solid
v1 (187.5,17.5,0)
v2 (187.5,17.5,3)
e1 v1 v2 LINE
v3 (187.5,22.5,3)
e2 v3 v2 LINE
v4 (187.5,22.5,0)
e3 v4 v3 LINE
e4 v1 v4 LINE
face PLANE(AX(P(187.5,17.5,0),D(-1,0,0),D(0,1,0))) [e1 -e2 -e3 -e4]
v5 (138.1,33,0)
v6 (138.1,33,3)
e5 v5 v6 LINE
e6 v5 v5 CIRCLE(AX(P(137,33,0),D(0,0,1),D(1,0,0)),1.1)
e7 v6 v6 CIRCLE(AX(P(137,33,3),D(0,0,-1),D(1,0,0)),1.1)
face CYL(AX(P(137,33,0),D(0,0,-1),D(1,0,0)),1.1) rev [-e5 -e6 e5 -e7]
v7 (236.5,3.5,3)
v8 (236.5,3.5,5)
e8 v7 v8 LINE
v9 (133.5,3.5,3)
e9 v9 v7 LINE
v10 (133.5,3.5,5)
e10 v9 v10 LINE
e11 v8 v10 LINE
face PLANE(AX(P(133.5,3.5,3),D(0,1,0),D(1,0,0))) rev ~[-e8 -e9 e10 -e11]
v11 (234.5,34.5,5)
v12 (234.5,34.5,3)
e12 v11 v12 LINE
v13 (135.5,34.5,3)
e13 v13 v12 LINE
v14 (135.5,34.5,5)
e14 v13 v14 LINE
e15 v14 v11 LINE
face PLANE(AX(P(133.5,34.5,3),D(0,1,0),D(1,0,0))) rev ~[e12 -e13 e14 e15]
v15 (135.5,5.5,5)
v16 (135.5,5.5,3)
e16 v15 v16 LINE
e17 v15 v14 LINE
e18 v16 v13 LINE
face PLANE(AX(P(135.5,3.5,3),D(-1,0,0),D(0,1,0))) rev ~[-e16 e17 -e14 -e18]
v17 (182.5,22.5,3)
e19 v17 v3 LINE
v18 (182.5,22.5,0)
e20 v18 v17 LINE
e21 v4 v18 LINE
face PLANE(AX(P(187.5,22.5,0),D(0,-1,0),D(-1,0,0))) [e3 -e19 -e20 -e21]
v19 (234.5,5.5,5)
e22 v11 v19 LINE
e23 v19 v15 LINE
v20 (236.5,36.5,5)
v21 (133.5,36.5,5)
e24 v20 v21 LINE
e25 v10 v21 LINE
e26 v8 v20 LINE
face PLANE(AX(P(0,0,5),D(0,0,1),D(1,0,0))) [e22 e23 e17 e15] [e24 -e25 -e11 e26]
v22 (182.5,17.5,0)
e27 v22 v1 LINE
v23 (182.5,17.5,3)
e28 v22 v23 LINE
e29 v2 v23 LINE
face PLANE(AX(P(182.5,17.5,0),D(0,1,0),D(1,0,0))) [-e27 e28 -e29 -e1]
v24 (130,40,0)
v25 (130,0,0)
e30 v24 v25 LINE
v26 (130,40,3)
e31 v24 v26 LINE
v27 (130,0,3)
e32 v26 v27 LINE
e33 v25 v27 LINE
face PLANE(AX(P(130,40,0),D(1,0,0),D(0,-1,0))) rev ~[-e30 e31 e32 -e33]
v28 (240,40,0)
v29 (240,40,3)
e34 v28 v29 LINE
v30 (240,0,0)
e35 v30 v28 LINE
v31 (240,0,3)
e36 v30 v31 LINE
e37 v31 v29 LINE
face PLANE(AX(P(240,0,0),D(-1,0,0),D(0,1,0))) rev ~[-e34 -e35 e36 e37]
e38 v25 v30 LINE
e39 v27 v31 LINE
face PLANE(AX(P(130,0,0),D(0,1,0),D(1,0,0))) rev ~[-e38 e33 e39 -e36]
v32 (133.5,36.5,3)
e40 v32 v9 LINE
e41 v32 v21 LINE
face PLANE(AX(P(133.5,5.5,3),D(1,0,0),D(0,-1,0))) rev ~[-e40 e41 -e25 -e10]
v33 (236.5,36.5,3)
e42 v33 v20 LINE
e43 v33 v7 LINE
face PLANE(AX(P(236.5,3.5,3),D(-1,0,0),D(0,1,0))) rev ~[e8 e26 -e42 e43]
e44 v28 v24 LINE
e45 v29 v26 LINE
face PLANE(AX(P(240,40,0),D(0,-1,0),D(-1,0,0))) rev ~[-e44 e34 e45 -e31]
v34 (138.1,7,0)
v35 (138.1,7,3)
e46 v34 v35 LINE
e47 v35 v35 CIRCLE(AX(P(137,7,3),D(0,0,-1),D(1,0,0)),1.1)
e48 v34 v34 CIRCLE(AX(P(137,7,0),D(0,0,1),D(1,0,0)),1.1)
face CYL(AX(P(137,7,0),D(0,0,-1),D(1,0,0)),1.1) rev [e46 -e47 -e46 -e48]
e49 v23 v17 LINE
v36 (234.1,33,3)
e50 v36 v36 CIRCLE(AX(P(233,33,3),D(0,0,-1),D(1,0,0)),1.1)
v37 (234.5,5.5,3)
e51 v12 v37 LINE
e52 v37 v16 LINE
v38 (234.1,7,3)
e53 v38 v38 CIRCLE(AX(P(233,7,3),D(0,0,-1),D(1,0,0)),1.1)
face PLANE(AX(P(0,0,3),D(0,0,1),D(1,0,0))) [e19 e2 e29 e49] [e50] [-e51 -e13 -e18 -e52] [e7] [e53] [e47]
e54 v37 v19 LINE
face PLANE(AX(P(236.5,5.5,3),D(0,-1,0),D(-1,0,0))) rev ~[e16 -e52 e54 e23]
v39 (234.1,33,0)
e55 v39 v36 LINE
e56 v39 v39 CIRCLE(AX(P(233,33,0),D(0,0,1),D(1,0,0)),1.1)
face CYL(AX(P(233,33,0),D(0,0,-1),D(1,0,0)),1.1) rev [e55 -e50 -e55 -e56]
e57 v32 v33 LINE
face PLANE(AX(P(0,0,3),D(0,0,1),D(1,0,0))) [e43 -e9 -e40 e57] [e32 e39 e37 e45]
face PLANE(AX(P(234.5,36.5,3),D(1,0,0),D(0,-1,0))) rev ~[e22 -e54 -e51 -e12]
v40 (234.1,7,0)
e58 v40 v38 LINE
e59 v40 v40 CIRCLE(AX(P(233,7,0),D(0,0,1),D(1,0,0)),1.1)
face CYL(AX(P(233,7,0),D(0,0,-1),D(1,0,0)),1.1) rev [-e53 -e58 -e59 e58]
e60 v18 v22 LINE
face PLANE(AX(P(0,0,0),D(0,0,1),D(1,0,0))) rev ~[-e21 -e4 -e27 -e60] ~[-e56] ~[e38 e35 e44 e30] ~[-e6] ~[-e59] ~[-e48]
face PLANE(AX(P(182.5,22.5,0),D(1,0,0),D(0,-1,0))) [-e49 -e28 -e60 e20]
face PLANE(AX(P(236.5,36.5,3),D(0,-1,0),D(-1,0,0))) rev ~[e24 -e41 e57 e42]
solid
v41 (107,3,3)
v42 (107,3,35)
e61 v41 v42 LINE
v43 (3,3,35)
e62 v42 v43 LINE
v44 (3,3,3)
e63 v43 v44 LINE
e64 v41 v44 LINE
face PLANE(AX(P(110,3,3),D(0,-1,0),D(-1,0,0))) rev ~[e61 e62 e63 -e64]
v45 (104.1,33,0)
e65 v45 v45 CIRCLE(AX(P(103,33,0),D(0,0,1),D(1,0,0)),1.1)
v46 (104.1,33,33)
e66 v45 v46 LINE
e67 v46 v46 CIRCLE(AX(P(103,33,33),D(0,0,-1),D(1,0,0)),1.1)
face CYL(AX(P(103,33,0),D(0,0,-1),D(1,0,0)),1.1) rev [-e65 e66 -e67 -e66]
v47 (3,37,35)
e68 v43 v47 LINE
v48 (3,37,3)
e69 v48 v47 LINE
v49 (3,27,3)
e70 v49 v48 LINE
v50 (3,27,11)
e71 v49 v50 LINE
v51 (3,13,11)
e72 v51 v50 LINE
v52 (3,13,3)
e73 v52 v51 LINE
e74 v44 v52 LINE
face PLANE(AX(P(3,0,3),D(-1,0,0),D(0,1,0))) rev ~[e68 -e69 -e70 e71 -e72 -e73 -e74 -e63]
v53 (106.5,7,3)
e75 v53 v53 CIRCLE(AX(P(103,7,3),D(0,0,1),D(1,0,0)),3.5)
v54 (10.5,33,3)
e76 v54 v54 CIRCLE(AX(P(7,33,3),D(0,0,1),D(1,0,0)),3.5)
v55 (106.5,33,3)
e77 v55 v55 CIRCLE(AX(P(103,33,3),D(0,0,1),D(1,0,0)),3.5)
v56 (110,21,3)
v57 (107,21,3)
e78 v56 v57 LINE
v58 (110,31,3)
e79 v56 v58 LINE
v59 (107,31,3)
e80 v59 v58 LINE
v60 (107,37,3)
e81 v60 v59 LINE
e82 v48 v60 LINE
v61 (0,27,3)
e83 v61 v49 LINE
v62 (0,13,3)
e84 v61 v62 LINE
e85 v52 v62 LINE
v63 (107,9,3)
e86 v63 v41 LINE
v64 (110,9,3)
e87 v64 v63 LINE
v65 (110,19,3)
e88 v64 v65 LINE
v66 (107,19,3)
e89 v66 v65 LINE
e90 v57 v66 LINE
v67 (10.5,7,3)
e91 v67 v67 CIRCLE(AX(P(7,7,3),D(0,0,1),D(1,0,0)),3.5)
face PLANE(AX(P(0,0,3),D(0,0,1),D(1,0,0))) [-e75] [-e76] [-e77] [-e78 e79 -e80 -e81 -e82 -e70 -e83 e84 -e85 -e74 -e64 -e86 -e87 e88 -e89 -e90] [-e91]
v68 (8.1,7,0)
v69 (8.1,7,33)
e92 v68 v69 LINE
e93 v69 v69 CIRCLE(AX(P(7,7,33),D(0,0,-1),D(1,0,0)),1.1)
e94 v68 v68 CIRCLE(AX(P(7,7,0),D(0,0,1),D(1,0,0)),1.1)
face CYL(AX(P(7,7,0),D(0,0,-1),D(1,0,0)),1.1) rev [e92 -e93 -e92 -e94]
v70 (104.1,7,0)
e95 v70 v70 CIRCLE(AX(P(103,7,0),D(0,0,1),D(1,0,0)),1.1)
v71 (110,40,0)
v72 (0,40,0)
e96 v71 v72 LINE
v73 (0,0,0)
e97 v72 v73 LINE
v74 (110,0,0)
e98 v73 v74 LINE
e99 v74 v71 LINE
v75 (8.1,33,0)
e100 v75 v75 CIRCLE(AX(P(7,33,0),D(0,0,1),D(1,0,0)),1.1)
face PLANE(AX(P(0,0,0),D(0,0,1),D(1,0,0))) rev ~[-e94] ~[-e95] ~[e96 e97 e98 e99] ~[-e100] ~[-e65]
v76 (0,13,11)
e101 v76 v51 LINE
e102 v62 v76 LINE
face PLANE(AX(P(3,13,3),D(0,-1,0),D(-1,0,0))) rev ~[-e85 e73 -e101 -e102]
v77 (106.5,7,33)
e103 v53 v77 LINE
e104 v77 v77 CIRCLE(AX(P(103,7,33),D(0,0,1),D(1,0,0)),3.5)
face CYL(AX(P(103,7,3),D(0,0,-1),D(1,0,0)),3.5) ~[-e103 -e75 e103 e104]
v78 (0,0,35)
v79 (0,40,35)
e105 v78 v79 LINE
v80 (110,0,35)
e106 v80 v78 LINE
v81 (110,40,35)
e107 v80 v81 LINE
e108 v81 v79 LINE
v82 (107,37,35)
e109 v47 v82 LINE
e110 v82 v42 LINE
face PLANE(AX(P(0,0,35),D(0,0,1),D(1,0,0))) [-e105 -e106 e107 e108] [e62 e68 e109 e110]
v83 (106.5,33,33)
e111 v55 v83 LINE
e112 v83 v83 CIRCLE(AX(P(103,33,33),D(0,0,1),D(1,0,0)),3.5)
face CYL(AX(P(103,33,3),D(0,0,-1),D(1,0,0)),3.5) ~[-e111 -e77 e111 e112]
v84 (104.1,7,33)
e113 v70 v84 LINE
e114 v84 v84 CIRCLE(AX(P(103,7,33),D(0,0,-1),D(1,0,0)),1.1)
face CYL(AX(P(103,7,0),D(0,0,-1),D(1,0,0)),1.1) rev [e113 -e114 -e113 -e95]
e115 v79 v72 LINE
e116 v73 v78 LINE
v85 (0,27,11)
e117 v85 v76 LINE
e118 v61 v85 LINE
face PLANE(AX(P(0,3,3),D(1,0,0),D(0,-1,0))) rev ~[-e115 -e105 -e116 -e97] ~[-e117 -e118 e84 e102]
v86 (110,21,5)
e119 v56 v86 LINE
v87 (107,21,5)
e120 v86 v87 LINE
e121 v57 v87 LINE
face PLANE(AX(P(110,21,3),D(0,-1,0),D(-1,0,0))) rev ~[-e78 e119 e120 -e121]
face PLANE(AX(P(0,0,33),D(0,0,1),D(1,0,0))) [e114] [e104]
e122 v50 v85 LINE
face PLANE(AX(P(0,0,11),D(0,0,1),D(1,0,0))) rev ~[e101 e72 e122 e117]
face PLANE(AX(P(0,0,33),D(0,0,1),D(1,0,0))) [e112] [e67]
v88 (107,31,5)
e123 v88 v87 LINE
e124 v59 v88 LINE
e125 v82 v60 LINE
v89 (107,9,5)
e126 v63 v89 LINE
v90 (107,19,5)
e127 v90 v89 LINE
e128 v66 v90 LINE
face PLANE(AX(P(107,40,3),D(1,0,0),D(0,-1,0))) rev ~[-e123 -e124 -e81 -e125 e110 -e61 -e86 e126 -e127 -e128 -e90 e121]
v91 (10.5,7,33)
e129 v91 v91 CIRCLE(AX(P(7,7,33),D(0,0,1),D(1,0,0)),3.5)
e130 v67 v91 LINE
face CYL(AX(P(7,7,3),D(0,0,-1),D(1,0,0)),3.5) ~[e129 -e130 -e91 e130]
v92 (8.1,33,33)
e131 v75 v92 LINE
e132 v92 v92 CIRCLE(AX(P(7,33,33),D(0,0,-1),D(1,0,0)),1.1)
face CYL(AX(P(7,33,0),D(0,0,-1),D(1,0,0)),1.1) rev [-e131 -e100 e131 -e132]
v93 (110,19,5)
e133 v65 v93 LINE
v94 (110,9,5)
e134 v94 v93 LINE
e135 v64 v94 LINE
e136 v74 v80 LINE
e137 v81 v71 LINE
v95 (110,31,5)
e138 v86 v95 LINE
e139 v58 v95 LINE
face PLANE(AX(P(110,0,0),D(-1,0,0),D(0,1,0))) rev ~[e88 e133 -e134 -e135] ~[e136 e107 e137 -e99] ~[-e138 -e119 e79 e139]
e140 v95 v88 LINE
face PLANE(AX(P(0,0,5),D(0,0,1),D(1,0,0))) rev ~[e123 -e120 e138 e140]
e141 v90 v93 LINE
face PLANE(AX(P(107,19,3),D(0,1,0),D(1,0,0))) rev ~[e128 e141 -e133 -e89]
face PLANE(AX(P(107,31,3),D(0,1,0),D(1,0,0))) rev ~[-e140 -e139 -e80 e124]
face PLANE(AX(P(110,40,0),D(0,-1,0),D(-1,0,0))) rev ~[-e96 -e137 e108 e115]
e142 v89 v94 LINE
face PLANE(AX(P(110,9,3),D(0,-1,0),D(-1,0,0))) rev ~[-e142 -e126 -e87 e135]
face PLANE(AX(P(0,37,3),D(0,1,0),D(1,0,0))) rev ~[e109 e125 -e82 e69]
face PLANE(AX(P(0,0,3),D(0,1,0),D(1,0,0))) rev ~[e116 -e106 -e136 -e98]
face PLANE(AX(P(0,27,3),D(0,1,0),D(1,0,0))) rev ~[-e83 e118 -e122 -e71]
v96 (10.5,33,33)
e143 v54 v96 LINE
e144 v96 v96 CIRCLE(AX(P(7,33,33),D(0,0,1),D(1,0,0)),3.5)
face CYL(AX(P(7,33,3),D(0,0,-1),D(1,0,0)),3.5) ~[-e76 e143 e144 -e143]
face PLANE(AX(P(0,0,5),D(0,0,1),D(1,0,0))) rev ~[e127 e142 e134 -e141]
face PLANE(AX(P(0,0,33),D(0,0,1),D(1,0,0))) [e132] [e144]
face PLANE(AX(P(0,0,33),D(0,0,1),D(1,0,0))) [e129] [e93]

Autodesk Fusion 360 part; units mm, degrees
sketch "Boceto1" plane through (0, 0, 0) normal (0, 0, 1) x (1, 0, 0)
sketch "Boceto2" plane through (0, 0, 0) normal (0, 0, 1) x (1, 0, 0)
sketch "Boceto3" plane through (0, 0, 0) normal (0, 0, 1) x (1, 0, 0)
  line L0 (0, 0) -> (110, 0)
  line L1 (110, 0) -> (110, 40)
  line L2 (110, 40) -> (0, 40)
  line L3 (0, 40) -> (0, 0)
sketch "Boceto4" plane through (0, 0, 0) normal (0, 0, 1) x (1, 0, 0)
  line L0 (0, 0) -> (110, 0)
  line L1 (110, 0) -> (110, 3)
  line L2 (110, 3) -> (0, 3)
  line L3 (0, 3) -> (0, 0)
sketch "Boceto5" plane through (0, 0, 0) normal (0, 0, 1) x (1, 0, 0)
  line L0 (0, 37) -> (110, 37)
  line L1 (110, 37) -> (110, 40)
  line L2 (110, 40) -> (0, 40)
  line L3 (0, 40) -> (0, 37)
sketch "Boceto6" plane through (0, 0, 0) normal (0, 0, 1) x (1, 0, 0)
  line L0 (0, 0) -> (3, 0)
  line L1 (3, 0) -> (3, 13)
  line L2 (3, 13) -> (0, 13)
  line L3 (0, 13) -> (0, 0)
sketch "Boceto7" plane through (0, 0, 0) normal (0, 0, 1) x (1, 0, 0)
  line L0 (0, 27) -> (3, 27)
  line L1 (3, 27) -> (3, 40)
  line L2 (3, 40) -> (0, 40)
  line L3 (0, 40) -> (0, 27)
sketch "Boceto8" plane through (0, 0, 0) normal (0, 0, 1) x (1, 0, 0)
  line L0 (0, 13) -> (3, 13)
  line L1 (3, 13) -> (3, 27)
  line L2 (3, 27) -> (0, 27)
  line L3 (0, 27) -> (0, 13)
sketch "Boceto9" plane through (0, 0, 0) normal (0, 0, 1) x (1, 0, 0)
  line L0 (107, 0) -> (110, 0)
  line L1 (110, 0) -> (110, 9)
  line L2 (110, 9) -> (107, 9)
  line L3 (107, 9) -> (107, 0)
sketch "Boceto10" plane through (0, 0, 0) normal (0, 0, 1) x (1, 0, 0)
  line L0 (107, 19) -> (110, 19)
  line L1 (110, 19) -> (110, 21)
  line L2 (110, 21) -> (107, 21)
  line L3 (107, 21) -> (107, 19)
sketch "Boceto11" plane through (0, 0, 0) normal (0, 0, 1) x (1, 0, 0)
  line L0 (107, 31) -> (110, 31)
  line L1 (110, 31) -> (110, 40)
  line L2 (110, 40) -> (107, 40)
  line L3 (107, 40) -> (107, 31)
sketch "Boceto12" plane through (0, 0, 0) normal (0, 0, 1) x (1, 0, 0)
  line L0 (107, 9) -> (110, 9)
  line L1 (110, 9) -> (110, 31)
  line L2 (110, 31) -> (107, 31)
  line L3 (107, 31) -> (107, 9)
sketch "Boceto13" plane through (0, 0, 0) normal (0, 0, 1) x (1, 0, 0)
  circle A0 centre (7, 7) radius 3.5
sketch "Boceto14" plane through (0, 0, 0) normal (0, 0, 1) x (1, 0, 0)
  circle A0 centre (7, 7) radius 1.1
sketch "Boceto15" plane through (0, 0, 0) normal (0, 0, 1) x (1, 0, 0)
  circle A0 centre (103, 7) radius 3.5
sketch "Boceto16" plane through (0, 0, 0) normal (0, 0, 1) x (1, 0, 0)
  circle A0 centre (103, 7) radius 1.1
sketch "Boceto17" plane through (0, 0, 0) normal (0, 0, 1) x (1, 0, 0)
  circle A0 centre (7, 33) radius 3.5
sketch "Boceto18" plane through (0, 0, 0) normal (0, 0, 1) x (1, 0, 0)
  circle A0 centre (7, 33) radius 1.1
sketch "Boceto19" plane through (0, 0, 0) normal (0, 0, 1) x (1, 0, 0)
  circle A0 centre (103, 33) radius 3.5
sketch "Boceto20" plane through (0, 0, 0) normal (0, 0, 1) x (1, 0, 0)
  circle A0 centre (103, 33) radius 1.1
sketch "Boceto21" plane through (0, 0, 0) normal (0, 0, 1) x (1, 0, 0)
  circle A0 centre (35, 12) radius 2.5
sketch "Boceto22" plane through (0, 0, 0) normal (0, 0, 1) x (1, 0, 0)
  circle A0 centre (35, 12) radius 1.1
sketch "Boceto23" plane through (0, 0, 0) normal (0, 0, 1) x (1, 0, 0)
  circle A0 centre (75, 12) radius 2.5
sketch "Boceto24" plane through (0, 0, 0) normal (0, 0, 1) x (1, 0, 0)
  circle A0 centre (75, 12) radius 1.1
sketch "Boceto25" plane through (0, 0, 0) normal (0, 0, 1) x (1, 0, 0)
  circle A0 centre (35, 28) radius 2.5
sketch "Boceto26" plane through (0, 0, 0) normal (0, 0, 1) x (1, 0, 0)
  circle A0 centre (35, 28) radius 1.1
sketch "Boceto27" plane through (0, 0, 0) normal (0, 0, 1) x (1, 0, 0)
  circle A0 centre (75, 28) radius 2.5
sketch "Boceto28" plane through (0, 0, 0) normal (0, 0, 1) x (1, 0, 0)
  circle A0 centre (75, 28) radius 1.1
sketch "Boceto29" plane through (0, 0, 0) normal (0, 0, 1) x (1, 0, 0)
  circle A0 centre (95, 20) radius 3
sketch "Boceto30" plane through (0, 0, 0) normal (0, 0, 1) x (1, 0, 0)
  circle A0 centre (95, 20) radius 1.6
sketch "Boceto31" plane through (0, 0, 0) normal (0, 0, 1) x (1, 0, 0)
  circle A0 centre (53, 20) radius 2.5
sketch "Boceto32" plane through (0, 0, 0) normal (0, 0, 1) x (1, 0, 0)
  circle A0 centre (53, 20) radius 1.1
sketch "Boceto33" plane through (0, 0, 0) normal (0, 0, 1) x (1, 0, 0)
  circle A0 centre (57, 20) radius 2.5
sketch "Boceto34" plane through (0, 0, 0) normal (0, 0, 1) x (1, 0, 0)
  circle A0 centre (57, 20) radius 1.1
sketch "Boceto35" plane through (0, 0, 0) normal (0, 0, 1) x (1, 0, 0)
  line L0 (130, 0) -> (240, 0)
  line L1 (240, 0) -> (240, 40)
  line L2 (240, 40) -> (130, 40)
  line L3 (130, 40) -> (130, 0)
sketch "Boceto36" plane through (0, 0, 0) normal (0, 0, 1) x (1, 0, 0)
  line L0 (133.5, 3.5) -> (236.5, 3.5)
  line L1 (236.5, 3.5) -> (236.5, 5.5)
  line L2 (236.5, 5.5) -> (133.5, 5.5)
  line L3 (133.5, 5.5) -> (133.5, 3.5)
sketch "Boceto37" plane through (0, 0, 0) normal (0, 0, 1) x (1, 0, 0)
  line L0 (133.5, 34.5) -> (236.5, 34.5)
  line L1 (236.5, 34.5) -> (236.5, 36.5)
  line L2 (236.5, 36.5) -> (133.5, 36.5)
  line L3 (133.5, 36.5) -> (133.5, 34.5)
sketch "Boceto38" plane through (0, 0, 0) normal (0, 0, 1) x (1, 0, 0)
  line L0 (133.5, 3.5) -> (135.5, 3.5)
  line L1 (135.5, 3.5) -> (135.5, 36.5)
  line L2 (135.5, 36.5) -> (133.5, 36.5)
  line L3 (133.5, 36.5) -> (133.5, 3.5)
sketch "Boceto39" plane through (0, 0, 0) normal (0, 0, 1) x (1, 0, 0)
  line L0 (234.5, 3.5) -> (236.5, 3.5)
  line L1 (236.5, 3.5) -> (236.5, 36.5)
  line L2 (236.5, 36.5) -> (234.5, 36.5)
  line L3 (234.5, 36.5) -> (234.5, 3.5)
sketch "Boceto40" plane through (0, 0, 0) normal (0, 0, 1) x (1, 0, 0)
  line L0 (182.5, 17.5) -> (187.5, 17.5)
  line L1 (187.5, 17.5) -> (187.5, 22.5)
  line L2 (187.5, 22.5) -> (182.5, 22.5)
  line L3 (182.5, 22.5) -> (182.5, 17.5)
sketch "Boceto41" plane through (0, 0, 0) normal (0, 0, 1) x (1, 0, 0)
  circle A0 centre (137, 7) radius 1.1
sketch "Boceto42" plane through (0, 0, 0) normal (0, 0, 1) x (1, 0, 0)
  circle A0 centre (233, 7) radius 1.1
sketch "Boceto43" plane through (0, 0, 0) normal (0, 0, 1) x (1, 0, 0)
  circle A0 centre (137, 33) radius 1.1
sketch "Boceto44" plane through (0, 0, 0) normal (0, 0, 1) x (1, 0, 0)
  circle A0 centre (233, 33) radius 1.1
sketch "Boceto45" plane through (0, 0, 0) normal (0, 0, 1) x (1, 0, 0)
  line L0 (0, 0) -> (110, 0)
  line L1 (110, 0) -> (110, 40)
  line L2 (110, 40) -> (0, 40)
  line L3 (0, 40) -> (0, 0)
sketch "Boceto46" plane through (0, 0, 0) normal (0, 0, 1) x (1, 0, 0)
  line L0 (0, 0) -> (110, 0)
  line L1 (110, 0) -> (110, 3)
  line L2 (110, 3) -> (0, 3)
  line L3 (0, 3) -> (0, 0)
sketch "Boceto47" plane through (0, 0, 0) normal (0, 0, 1) x (1, 0, 0)
  line L0 (0, 37) -> (110, 37)
  line L1 (110, 37) -> (110, 40)
  line L2 (110, 40) -> (0, 40)
  line L3 (0, 40) -> (0, 37)
sketch "Boceto48" plane through (0, 0, 0) normal (0, 0, 1) x (1, 0, 0)
  line L0 (0, 0) -> (3, 0)
  line L1 (3, 0) -> (3, 13)
  line L2 (3, 13) -> (0, 13)
  line L3 (0, 13) -> (0, 0)
sketch "Boceto49" plane through (0, 0, 0) normal (0, 0, 1) x (1, 0, 0)
  line L0 (0, 27) -> (3, 27)
  line L1 (3, 27) -> (3, 40)
  line L2 (3, 40) -> (0, 40)
  line L3 (0, 40) -> (0, 27)
sketch "Boceto50" plane through (0, 0, 0) normal (0, 0, 1) x (1, 0, 0)
  line L0 (0, 13) -> (3, 13)
  line L1 (3, 13) -> (3, 27)
  line L2 (3, 27) -> (0, 27)
  line L3 (0, 27) -> (0, 13)
sketch "Boceto51" plane through (0, 0, 0) normal (0, 0, 1) x (1, 0, 0)
  line L0 (107, 0) -> (110, 0)
  line L1 (110, 0) -> (110, 9)
  line L2 (110, 9) -> (107, 9)
  line L3 (107, 9) -> (107, 0)
sketch "Boceto52" plane through (0, 0, 0) normal (0, 0, 1) x (1, 0, 0)
  line L0 (107, 19) -> (110, 19)
  line L1 (110, 19) -> (110, 21)
  line L2 (110, 21) -> (107, 21)
  line L3 (107, 21) -> (107, 19)
sketch "Boceto53" plane through (0, 0, 0) normal (0, 0, 1) x (1, 0, 0)
  line L0 (107, 31) -> (110, 31)
  line L1 (110, 31) -> (110, 40)
  line L2 (110, 40) -> (107, 40)
  line L3 (107, 40) -> (107, 31)
sketch "Boceto54" plane through (0, 0, 0) normal (0, 0, 1) x (1, 0, 0)
  line L0 (107, 9) -> (110, 9)
  line L1 (110, 9) -> (110, 31)
  line L2 (110, 31) -> (107, 31)
  line L3 (107, 31) -> (107, 9)
sketch "Boceto55" plane through (0, 0, 0) normal (0, 0, 1) x (1, 0, 0)
  circle A0 centre (7, 7) radius 3.5
sketch "Boceto56" plane through (0, 0, 0) normal (0, 0, 1) x (1, 0, 0)
  circle A0 centre (7, 7) radius 1.1
sketch "Boceto57" plane through (0, 0, 0) normal (0, 0, 1) x (1, 0, 0)
  circle A0 centre (103, 7) radius 3.5
sketch "Boceto58" plane through (0, 0, 0) normal (0, 0, 1) x (1, 0, 0)
  circle A0 centre (103, 7) radius 1.1
sketch "Boceto59" plane through (0, 0, 0) normal (0, 0, 1) x (1, 0, 0)
  circle A0 centre (7, 33) radius 3.5
sketch "Boceto60" plane through (0, 0, 0) normal (0, 0, 1) x (1, 0, 0)
  circle A0 centre (7, 33) radius 1.1
sketch "Boceto61" plane through (0, 0, 0) normal (0, 0, 1) x (1, 0, 0)
  circle A0 centre (103, 33) radius 3.5
sketch "Boceto62" plane through (0, 0, 0) normal (0, 0, 1) x (1, 0, 0)
  circle A0 centre (103, 33) radius 1.1
sketch "Boceto63" plane through (0, 0, 0) normal (0, 0, 1) x (1, 0, 0)
  line L0 (130, 0) -> (240, 0)
  line L1 (240, 0) -> (240, 40)
  line L2 (240, 40) -> (130, 40)
  line L3 (130, 40) -> (130, 0)
sketch "Boceto64" plane through (0, 0, 0) normal (0, 0, 1) x (1, 0, 0)
  line L0 (133.5, 3.5) -> (236.5, 3.5)
  line L1 (236.5, 3.5) -> (236.5, 5.5)
  line L2 (236.5, 5.5) -> (133.5, 5.5)
  line L3 (133.5, 5.5) -> (133.5, 3.5)
sketch "Boceto65" plane through (0, 0, 0) normal (0, 0, 1) x (1, 0, 0)
  line L0 (133.5, 34.5) -> (236.5, 34.5)
  line L1 (236.5, 34.5) -> (236.5, 36.5)
  line L2 (236.5, 36.5) -> (133.5, 36.5)
  line L3 (133.5, 36.5) -> (133.5, 34.5)
sketch "Boceto66" plane through (0, 0, 0) normal (0, 0, 1) x (1, 0, 0)
  line L0 (133.5, 3.5) -> (135.5, 3.5)
  line L1 (135.5, 3.5) -> (135.5, 36.5)
  line L2 (135.5, 36.5) -> (133.5, 36.5)
  line L3 (133.5, 36.5) -> (133.5, 3.5)
sketch "Boceto67" plane through (0, 0, 0) normal (0, 0, 1) x (1, 0, 0)
  line L0 (234.5, 3.5) -> (236.5, 3.5)
  line L1 (236.5, 3.5) -> (236.5, 36.5)
  line L2 (236.5, 36.5) -> (234.5, 36.5)
  line L3 (234.5, 36.5) -> (234.5, 3.5)
sketch "Boceto68" plane through (0, 0, 0) normal (0, 0, 1) x (1, 0, 0)
  line L0 (182.5, 17.5) -> (187.5, 17.5)
  line L1 (187.5, 17.5) -> (187.5, 22.5)
  line L2 (187.5, 22.5) -> (182.5, 22.5)
  line L3 (182.5, 22.5) -> (182.5, 17.5)
sketch "Boceto69" plane through (0, 0, 0) normal (0, 0, 1) x (1, 0, 0)
  circle A0 centre (137, 7) radius 1.1
sketch "Boceto70" plane through (0, 0, 0) normal (0, 0, 1) x (1, 0, 0)
  circle A0 centre (233, 7) radius 1.1
sketch "Boceto71" plane through (0, 0, 0) normal (0, 0, 1) x (1, 0, 0)
  circle A0 centre (137, 33) radius 1.1
sketch "Boceto72" plane through (0, 0, 0) normal (0, 0, 1) x (1, 0, 0)
  circle A0 centre (233, 33) radius 1.1
sketch "Boceto73" plane through (0, 0, 0) normal (0, 0, 1) x (1, 0, 0)
  line L0 (0, 0) -> (110, 0)
  line L1 (110, 0) -> (110, 40)
  line L2 (110, 40) -> (0, 40)
  line L3 (0, 40) -> (0, 0)
extrude "Extruir71" add sketch "Boceto73" along normal blind 3 makes body 1
sketch "Boceto74" plane through (0, 0, 0) normal (0, 0, 1) x (1, 0, 0)
  line L0 (0, 0) -> (110, 0)
  line L1 (110, 0) -> (110, 3)
  line L2 (110, 3) -> (0, 3)
  line L3 (0, 3) -> (0, 0)
extrude "Extruir72" add sketch "Boceto74" along normal blind 32 separate body makes body 2
move_body "Desplazar42" bodies 2 to x (1, 0, 0) y (0, 1, 0) z (0, 0, 1) at (0, 0, 3)
sketch "Boceto75" plane through (0, 0, 0) normal (0, 0, 1) x (1, 0, 0)
  line L0 (0, 37) -> (110, 37)
  line L1 (110, 37) -> (110, 40)
  line L2 (110, 40) -> (0, 40)
  line L3 (0, 40) -> (0, 37)
extrude "Extruir73" add sketch "Boceto75" along normal blind 32 separate body makes body 3
move_body "Desplazar43" bodies 3 to x (1, 0, 0) y (0, 1, 0) z (0, 0, 1) at (0, 0, 3)
sketch "Boceto76" plane through (0, 0, 0) normal (0, 0, 1) x (1, 0, 0)
  line L0 (0, 0) -> (3, 0)
  line L1 (3, 0) -> (3, 13)
  line L2 (3, 13) -> (0, 13)
  line L3 (0, 13) -> (0, 0)
extrude "Extruir74" add sketch "Boceto76" along normal blind 32 separate body makes body 4
move_body "Desplazar44" bodies 4 to x (1, 0, 0) y (0, 1, 0) z (0, 0, 1) at (0, 0, 3)
sketch "Boceto77" plane through (0, 0, 0) normal (0, 0, 1) x (1, 0, 0)
  line L0 (0, 27) -> (3, 27)
  line L1 (3, 27) -> (3, 40)
  line L2 (3, 40) -> (0, 40)
  line L3 (0, 40) -> (0, 27)
extrude "Extruir75" add sketch "Boceto77" along normal blind 32 separate body makes body 5
move_body "Desplazar45" bodies 5 to x (1, 0, 0) y (0, 1, 0) z (0, 0, 1) at (0, 0, 3)
sketch "Boceto78" plane through (0, 0, 0) normal (0, 0, 1) x (1, 0, 0)
  line L0 (0, 13) -> (3, 13)
  line L1 (3, 13) -> (3, 27)
  line L2 (3, 27) -> (0, 27)
  line L3 (0, 27) -> (0, 13)
extrude "Extruir76" add sketch "Boceto78" along normal blind 24 separate body makes body 6
move_body "Desplazar46" bodies 6 to x (1, 0, 0) y (0, 1, 0) z (0, 0, 1) at (0, 0, 11)
sketch "Boceto79" plane through (0, 0, 0) normal (0, 0, 1) x (1, 0, 0)
  line L0 (107, 0) -> (110, 0)
  line L1 (110, 0) -> (110, 9)
  line L2 (110, 9) -> (107, 9)
  line L3 (107, 9) -> (107, 0)
extrude "Extruir77" add sketch "Boceto79" along normal blind 32 separate body makes body 7
move_body "Desplazar47" bodies 7 to x (1, 0, 0) y (0, 1, 0) z (0, 0, 1) at (0, 0, 3)
sketch "Boceto80" plane through (0, 0, 0) normal (0, 0, 1) x (1, 0, 0)
  line L0 (107, 19) -> (110, 19)
  line L1 (110, 19) -> (110, 21)
  line L2 (110, 21) -> (107, 21)
  line L3 (107, 21) -> (107, 19)
extrude "Extruir78" add sketch "Boceto80" along normal blind 2 separate body makes body 8
move_body "Desplazar48" bodies 8 to x (1, 0, 0) y (0, 1, 0) z (0, 0, 1) at (0, 0, 3)
sketch "Boceto81" plane through (0, 0, 0) normal (0, 0, 1) x (1, 0, 0)
  line L0 (107, 31) -> (110, 31)
  line L1 (110, 31) -> (110, 40)
  line L2 (110, 40) -> (107, 40)
  line L3 (107, 40) -> (107, 31)
extrude "Extruir79" add sketch "Boceto81" along normal blind 32 separate body makes body 9
move_body "Desplazar49" bodies 9 to x (1, 0, 0) y (0, 1, 0) z (0, 0, 1) at (0, 0, 3)
sketch "Boceto82" plane through (0, 0, 0) normal (0, 0, 1) x (1, 0, 0)
  line L0 (107, 9) -> (110, 9)
  line L1 (110, 9) -> (110, 31)
  line L2 (110, 31) -> (107, 31)
  line L3 (107, 31) -> (107, 9)
extrude "Extruir80" add sketch "Boceto82" along normal blind 30 separate body makes body 10
move_body "Desplazar50" bodies 10 to x (1, 0, 0) y (0, 1, 0) z (0, 0, 1) at (0, 0, 5)
sketch "Boceto83" plane through (0, 0, 0) normal (0, 0, 1) x (1, 0, 0)
  circle A0 centre (7, 7) radius 3.5
extrude "Extruir81" add sketch "Boceto83" along normal blind 30 separate body makes body 11
move_body "Desplazar51" bodies 11 to x (1, 0, 0) y (0, 1, 0) z (0, 0, 1) at (0, 0, 3)
sketch "Boceto84" plane through (0, 0, 0) normal (0, 0, 1) x (1, 0, 0)
  circle A0 centre (7, 7) radius 1.1
extrude "Extruir82" cut sketch "Boceto84" along normal blind 37 bodies 1 11
sketch "Boceto85" plane through (0, 0, 0) normal (0, 0, 1) x (1, 0, 0)
  circle A0 centre (103, 7) radius 3.5
extrude "Extruir83" add sketch "Boceto85" along normal blind 30 separate body makes body 12
move_body "Desplazar52" bodies 12 to x (1, 0, 0) y (0, 1, 0) z (0, 0, 1) at (0, 0, 3)
sketch "Boceto86" plane through (0, 0, 0) normal (0, 0, 1) x (1, 0, 0)
  circle A0 centre (103, 7) radius 1.1
extrude "Extruir84" cut sketch "Boceto86" along normal blind 37 bodies 1 12
sketch "Boceto87" plane through (0, 0, 0) normal (0, 0, 1) x (1, 0, 0)
  circle A0 centre (7, 33) radius 3.5
extrude "Extruir85" add sketch "Boceto87" along normal blind 30 separate body makes body 13
move_body "Desplazar53" bodies 13 to x (1, 0, 0) y (0, 1, 0) z (0, 0, 1) at (0, 0, 3)
sketch "Boceto88" plane through (0, 0, 0) normal (0, 0, 1) x (1, 0, 0)
  circle A0 centre (7, 33) radius 1.1
extrude "Extruir86" cut sketch "Boceto88" along normal blind 37 bodies 1 13
sketch "Boceto89" plane through (0, 0, 0) normal (0, 0, 1) x (1, 0, 0)
  circle A0 centre (103, 33) radius 3.5
extrude "Extruir87" add sketch "Boceto89" along normal blind 30 separate body makes body 14
move_body "Desplazar54" bodies 14 to x (1, 0, 0) y (0, 1, 0) z (0, 0, 1) at (0, 0, 3)
sketch "Boceto90" plane through (0, 0, 0) normal (0, 0, 1) x (1, 0, 0)
  circle A0 centre (103, 33) radius 1.1
extrude "Extruir88" cut sketch "Boceto90" along normal blind 37 bodies 1 14
sketch "Boceto91" plane through (0, 0, 0) normal (0, 0, 1) x (1, 0, 0)
  line L0 (130, 0) -> (240, 0)
  line L1 (240, 0) -> (240, 40)
  line L2 (240, 40) -> (130, 40)
  line L3 (130, 40) -> (130, 0)
extrude "Extruir89" add sketch "Boceto91" along normal blind 3 separate body makes body 15
sketch "Boceto92" plane through (0, 0, 0) normal (0, 0, 1) x (1, 0, 0)
  line L0 (133.5, 3.5) -> (236.5, 3.5)
  line L1 (236.5, 3.5) -> (236.5, 5.5)
  line L2 (236.5, 5.5) -> (133.5, 5.5)
  line L3 (133.5, 5.5) -> (133.5, 3.5)
extrude "Extruir90" add sketch "Boceto92" along normal blind 2 separate body makes body 16
move_body "Desplazar55" bodies 16 to x (1, 0, 0) y (0, 1, 0) z (0, 0, 1) at (0, 0, 3)
sketch "Boceto93" plane through (0, 0, 0) normal (0, 0, 1) x (1, 0, 0)
  line L0 (133.5, 34.5) -> (236.5, 34.5)
  line L1 (236.5, 34.5) -> (236.5, 36.5)
  line L2 (236.5, 36.5) -> (133.5, 36.5)
  line L3 (133.5, 36.5) -> (133.5, 34.5)
extrude "Extruir91" add sketch "Boceto93" along normal blind 2 separate body makes body 17
move_body "Desplazar56" bodies 17 to x (1, 0, 0) y (0, 1, 0) z (0, 0, 1) at (0, 0, 3)
sketch "Boceto94" plane through (0, 0, 0) normal (0, 0, 1) x (1, 0, 0)
  line L0 (133.5, 3.5) -> (135.5, 3.5)
  line L1 (135.5, 3.5) -> (135.5, 36.5)
  line L2 (135.5, 36.5) -> (133.5, 36.5)
  line L3 (133.5, 36.5) -> (133.5, 3.5)
extrude "Extruir92" add sketch "Boceto94" along normal blind 2 separate body makes body 18
move_body "Desplazar57" bodies 18 to x (1, 0, 0) y (0, 1, 0) z (0, 0, 1) at (0, 0, 3)
sketch "Boceto95" plane through (0, 0, 0) normal (0, 0, 1) x (1, 0, 0)
  line L0 (234.5, 3.5) -> (236.5, 3.5)
  line L1 (236.5, 3.5) -> (236.5, 36.5)
  line L2 (236.5, 36.5) -> (234.5, 36.5)
  line L3 (234.5, 36.5) -> (234.5, 3.5)
extrude "Extruir93" add sketch "Boceto95" along normal blind 2 separate body makes body 19
move_body "Desplazar58" bodies 19 to x (1, 0, 0) y (0, 1, 0) z (0, 0, 1) at (0, 0, 3)
sketch "Boceto96" plane through (0, 0, 0) normal (0, 0, 1) x (1, 0, 0)
  line L0 (182.5, 17.5) -> (187.5, 17.5)
  line L1 (187.5, 17.5) -> (187.5, 22.5)
  line L2 (187.5, 22.5) -> (182.5, 22.5)
  line L3 (182.5, 22.5) -> (182.5, 17.5)
extrude "Extruir94" cut sketch "Boceto96" along normal blind 5 bodies 15
sketch "Boceto97" plane through (0, 0, 0) normal (0, 0, 1) x (1, 0, 0)
  circle A0 centre (137, 7) radius 1.1
extrude "Extruir95" cut sketch "Boceto97" along normal blind 5 bodies 15
sketch "Boceto98" plane through (0, 0, 0) normal (0, 0, 1) x (1, 0, 0)
  circle A0 centre (233, 7) radius 1.1
extrude "Extruir96" cut sketch "Boceto98" along normal blind 5 bodies 15
sketch "Boceto99" plane through (0, 0, 0) normal (0, 0, 1) x (1, 0, 0)
  circle A0 centre (137, 33) radius 1.1
extrude "Extruir97" cut sketch "Boceto99" along normal blind 5 bodies 15
sketch "Boceto100" plane through (0, 0, 0) normal (0, 0, 1) x (1, 0, 0)
  circle A0 centre (233, 33) radius 1.1
extrude "Extruir98" cut sketch "Boceto100" along normal blind 5 bodies 15
combine "Combinar1" operation add target body 1 tool bodies 2 3 4 5 6 7 8 9 10 11 12 13 14
combine "Combinar2" operation add target body 15 tool bodies 16 17 18 19
